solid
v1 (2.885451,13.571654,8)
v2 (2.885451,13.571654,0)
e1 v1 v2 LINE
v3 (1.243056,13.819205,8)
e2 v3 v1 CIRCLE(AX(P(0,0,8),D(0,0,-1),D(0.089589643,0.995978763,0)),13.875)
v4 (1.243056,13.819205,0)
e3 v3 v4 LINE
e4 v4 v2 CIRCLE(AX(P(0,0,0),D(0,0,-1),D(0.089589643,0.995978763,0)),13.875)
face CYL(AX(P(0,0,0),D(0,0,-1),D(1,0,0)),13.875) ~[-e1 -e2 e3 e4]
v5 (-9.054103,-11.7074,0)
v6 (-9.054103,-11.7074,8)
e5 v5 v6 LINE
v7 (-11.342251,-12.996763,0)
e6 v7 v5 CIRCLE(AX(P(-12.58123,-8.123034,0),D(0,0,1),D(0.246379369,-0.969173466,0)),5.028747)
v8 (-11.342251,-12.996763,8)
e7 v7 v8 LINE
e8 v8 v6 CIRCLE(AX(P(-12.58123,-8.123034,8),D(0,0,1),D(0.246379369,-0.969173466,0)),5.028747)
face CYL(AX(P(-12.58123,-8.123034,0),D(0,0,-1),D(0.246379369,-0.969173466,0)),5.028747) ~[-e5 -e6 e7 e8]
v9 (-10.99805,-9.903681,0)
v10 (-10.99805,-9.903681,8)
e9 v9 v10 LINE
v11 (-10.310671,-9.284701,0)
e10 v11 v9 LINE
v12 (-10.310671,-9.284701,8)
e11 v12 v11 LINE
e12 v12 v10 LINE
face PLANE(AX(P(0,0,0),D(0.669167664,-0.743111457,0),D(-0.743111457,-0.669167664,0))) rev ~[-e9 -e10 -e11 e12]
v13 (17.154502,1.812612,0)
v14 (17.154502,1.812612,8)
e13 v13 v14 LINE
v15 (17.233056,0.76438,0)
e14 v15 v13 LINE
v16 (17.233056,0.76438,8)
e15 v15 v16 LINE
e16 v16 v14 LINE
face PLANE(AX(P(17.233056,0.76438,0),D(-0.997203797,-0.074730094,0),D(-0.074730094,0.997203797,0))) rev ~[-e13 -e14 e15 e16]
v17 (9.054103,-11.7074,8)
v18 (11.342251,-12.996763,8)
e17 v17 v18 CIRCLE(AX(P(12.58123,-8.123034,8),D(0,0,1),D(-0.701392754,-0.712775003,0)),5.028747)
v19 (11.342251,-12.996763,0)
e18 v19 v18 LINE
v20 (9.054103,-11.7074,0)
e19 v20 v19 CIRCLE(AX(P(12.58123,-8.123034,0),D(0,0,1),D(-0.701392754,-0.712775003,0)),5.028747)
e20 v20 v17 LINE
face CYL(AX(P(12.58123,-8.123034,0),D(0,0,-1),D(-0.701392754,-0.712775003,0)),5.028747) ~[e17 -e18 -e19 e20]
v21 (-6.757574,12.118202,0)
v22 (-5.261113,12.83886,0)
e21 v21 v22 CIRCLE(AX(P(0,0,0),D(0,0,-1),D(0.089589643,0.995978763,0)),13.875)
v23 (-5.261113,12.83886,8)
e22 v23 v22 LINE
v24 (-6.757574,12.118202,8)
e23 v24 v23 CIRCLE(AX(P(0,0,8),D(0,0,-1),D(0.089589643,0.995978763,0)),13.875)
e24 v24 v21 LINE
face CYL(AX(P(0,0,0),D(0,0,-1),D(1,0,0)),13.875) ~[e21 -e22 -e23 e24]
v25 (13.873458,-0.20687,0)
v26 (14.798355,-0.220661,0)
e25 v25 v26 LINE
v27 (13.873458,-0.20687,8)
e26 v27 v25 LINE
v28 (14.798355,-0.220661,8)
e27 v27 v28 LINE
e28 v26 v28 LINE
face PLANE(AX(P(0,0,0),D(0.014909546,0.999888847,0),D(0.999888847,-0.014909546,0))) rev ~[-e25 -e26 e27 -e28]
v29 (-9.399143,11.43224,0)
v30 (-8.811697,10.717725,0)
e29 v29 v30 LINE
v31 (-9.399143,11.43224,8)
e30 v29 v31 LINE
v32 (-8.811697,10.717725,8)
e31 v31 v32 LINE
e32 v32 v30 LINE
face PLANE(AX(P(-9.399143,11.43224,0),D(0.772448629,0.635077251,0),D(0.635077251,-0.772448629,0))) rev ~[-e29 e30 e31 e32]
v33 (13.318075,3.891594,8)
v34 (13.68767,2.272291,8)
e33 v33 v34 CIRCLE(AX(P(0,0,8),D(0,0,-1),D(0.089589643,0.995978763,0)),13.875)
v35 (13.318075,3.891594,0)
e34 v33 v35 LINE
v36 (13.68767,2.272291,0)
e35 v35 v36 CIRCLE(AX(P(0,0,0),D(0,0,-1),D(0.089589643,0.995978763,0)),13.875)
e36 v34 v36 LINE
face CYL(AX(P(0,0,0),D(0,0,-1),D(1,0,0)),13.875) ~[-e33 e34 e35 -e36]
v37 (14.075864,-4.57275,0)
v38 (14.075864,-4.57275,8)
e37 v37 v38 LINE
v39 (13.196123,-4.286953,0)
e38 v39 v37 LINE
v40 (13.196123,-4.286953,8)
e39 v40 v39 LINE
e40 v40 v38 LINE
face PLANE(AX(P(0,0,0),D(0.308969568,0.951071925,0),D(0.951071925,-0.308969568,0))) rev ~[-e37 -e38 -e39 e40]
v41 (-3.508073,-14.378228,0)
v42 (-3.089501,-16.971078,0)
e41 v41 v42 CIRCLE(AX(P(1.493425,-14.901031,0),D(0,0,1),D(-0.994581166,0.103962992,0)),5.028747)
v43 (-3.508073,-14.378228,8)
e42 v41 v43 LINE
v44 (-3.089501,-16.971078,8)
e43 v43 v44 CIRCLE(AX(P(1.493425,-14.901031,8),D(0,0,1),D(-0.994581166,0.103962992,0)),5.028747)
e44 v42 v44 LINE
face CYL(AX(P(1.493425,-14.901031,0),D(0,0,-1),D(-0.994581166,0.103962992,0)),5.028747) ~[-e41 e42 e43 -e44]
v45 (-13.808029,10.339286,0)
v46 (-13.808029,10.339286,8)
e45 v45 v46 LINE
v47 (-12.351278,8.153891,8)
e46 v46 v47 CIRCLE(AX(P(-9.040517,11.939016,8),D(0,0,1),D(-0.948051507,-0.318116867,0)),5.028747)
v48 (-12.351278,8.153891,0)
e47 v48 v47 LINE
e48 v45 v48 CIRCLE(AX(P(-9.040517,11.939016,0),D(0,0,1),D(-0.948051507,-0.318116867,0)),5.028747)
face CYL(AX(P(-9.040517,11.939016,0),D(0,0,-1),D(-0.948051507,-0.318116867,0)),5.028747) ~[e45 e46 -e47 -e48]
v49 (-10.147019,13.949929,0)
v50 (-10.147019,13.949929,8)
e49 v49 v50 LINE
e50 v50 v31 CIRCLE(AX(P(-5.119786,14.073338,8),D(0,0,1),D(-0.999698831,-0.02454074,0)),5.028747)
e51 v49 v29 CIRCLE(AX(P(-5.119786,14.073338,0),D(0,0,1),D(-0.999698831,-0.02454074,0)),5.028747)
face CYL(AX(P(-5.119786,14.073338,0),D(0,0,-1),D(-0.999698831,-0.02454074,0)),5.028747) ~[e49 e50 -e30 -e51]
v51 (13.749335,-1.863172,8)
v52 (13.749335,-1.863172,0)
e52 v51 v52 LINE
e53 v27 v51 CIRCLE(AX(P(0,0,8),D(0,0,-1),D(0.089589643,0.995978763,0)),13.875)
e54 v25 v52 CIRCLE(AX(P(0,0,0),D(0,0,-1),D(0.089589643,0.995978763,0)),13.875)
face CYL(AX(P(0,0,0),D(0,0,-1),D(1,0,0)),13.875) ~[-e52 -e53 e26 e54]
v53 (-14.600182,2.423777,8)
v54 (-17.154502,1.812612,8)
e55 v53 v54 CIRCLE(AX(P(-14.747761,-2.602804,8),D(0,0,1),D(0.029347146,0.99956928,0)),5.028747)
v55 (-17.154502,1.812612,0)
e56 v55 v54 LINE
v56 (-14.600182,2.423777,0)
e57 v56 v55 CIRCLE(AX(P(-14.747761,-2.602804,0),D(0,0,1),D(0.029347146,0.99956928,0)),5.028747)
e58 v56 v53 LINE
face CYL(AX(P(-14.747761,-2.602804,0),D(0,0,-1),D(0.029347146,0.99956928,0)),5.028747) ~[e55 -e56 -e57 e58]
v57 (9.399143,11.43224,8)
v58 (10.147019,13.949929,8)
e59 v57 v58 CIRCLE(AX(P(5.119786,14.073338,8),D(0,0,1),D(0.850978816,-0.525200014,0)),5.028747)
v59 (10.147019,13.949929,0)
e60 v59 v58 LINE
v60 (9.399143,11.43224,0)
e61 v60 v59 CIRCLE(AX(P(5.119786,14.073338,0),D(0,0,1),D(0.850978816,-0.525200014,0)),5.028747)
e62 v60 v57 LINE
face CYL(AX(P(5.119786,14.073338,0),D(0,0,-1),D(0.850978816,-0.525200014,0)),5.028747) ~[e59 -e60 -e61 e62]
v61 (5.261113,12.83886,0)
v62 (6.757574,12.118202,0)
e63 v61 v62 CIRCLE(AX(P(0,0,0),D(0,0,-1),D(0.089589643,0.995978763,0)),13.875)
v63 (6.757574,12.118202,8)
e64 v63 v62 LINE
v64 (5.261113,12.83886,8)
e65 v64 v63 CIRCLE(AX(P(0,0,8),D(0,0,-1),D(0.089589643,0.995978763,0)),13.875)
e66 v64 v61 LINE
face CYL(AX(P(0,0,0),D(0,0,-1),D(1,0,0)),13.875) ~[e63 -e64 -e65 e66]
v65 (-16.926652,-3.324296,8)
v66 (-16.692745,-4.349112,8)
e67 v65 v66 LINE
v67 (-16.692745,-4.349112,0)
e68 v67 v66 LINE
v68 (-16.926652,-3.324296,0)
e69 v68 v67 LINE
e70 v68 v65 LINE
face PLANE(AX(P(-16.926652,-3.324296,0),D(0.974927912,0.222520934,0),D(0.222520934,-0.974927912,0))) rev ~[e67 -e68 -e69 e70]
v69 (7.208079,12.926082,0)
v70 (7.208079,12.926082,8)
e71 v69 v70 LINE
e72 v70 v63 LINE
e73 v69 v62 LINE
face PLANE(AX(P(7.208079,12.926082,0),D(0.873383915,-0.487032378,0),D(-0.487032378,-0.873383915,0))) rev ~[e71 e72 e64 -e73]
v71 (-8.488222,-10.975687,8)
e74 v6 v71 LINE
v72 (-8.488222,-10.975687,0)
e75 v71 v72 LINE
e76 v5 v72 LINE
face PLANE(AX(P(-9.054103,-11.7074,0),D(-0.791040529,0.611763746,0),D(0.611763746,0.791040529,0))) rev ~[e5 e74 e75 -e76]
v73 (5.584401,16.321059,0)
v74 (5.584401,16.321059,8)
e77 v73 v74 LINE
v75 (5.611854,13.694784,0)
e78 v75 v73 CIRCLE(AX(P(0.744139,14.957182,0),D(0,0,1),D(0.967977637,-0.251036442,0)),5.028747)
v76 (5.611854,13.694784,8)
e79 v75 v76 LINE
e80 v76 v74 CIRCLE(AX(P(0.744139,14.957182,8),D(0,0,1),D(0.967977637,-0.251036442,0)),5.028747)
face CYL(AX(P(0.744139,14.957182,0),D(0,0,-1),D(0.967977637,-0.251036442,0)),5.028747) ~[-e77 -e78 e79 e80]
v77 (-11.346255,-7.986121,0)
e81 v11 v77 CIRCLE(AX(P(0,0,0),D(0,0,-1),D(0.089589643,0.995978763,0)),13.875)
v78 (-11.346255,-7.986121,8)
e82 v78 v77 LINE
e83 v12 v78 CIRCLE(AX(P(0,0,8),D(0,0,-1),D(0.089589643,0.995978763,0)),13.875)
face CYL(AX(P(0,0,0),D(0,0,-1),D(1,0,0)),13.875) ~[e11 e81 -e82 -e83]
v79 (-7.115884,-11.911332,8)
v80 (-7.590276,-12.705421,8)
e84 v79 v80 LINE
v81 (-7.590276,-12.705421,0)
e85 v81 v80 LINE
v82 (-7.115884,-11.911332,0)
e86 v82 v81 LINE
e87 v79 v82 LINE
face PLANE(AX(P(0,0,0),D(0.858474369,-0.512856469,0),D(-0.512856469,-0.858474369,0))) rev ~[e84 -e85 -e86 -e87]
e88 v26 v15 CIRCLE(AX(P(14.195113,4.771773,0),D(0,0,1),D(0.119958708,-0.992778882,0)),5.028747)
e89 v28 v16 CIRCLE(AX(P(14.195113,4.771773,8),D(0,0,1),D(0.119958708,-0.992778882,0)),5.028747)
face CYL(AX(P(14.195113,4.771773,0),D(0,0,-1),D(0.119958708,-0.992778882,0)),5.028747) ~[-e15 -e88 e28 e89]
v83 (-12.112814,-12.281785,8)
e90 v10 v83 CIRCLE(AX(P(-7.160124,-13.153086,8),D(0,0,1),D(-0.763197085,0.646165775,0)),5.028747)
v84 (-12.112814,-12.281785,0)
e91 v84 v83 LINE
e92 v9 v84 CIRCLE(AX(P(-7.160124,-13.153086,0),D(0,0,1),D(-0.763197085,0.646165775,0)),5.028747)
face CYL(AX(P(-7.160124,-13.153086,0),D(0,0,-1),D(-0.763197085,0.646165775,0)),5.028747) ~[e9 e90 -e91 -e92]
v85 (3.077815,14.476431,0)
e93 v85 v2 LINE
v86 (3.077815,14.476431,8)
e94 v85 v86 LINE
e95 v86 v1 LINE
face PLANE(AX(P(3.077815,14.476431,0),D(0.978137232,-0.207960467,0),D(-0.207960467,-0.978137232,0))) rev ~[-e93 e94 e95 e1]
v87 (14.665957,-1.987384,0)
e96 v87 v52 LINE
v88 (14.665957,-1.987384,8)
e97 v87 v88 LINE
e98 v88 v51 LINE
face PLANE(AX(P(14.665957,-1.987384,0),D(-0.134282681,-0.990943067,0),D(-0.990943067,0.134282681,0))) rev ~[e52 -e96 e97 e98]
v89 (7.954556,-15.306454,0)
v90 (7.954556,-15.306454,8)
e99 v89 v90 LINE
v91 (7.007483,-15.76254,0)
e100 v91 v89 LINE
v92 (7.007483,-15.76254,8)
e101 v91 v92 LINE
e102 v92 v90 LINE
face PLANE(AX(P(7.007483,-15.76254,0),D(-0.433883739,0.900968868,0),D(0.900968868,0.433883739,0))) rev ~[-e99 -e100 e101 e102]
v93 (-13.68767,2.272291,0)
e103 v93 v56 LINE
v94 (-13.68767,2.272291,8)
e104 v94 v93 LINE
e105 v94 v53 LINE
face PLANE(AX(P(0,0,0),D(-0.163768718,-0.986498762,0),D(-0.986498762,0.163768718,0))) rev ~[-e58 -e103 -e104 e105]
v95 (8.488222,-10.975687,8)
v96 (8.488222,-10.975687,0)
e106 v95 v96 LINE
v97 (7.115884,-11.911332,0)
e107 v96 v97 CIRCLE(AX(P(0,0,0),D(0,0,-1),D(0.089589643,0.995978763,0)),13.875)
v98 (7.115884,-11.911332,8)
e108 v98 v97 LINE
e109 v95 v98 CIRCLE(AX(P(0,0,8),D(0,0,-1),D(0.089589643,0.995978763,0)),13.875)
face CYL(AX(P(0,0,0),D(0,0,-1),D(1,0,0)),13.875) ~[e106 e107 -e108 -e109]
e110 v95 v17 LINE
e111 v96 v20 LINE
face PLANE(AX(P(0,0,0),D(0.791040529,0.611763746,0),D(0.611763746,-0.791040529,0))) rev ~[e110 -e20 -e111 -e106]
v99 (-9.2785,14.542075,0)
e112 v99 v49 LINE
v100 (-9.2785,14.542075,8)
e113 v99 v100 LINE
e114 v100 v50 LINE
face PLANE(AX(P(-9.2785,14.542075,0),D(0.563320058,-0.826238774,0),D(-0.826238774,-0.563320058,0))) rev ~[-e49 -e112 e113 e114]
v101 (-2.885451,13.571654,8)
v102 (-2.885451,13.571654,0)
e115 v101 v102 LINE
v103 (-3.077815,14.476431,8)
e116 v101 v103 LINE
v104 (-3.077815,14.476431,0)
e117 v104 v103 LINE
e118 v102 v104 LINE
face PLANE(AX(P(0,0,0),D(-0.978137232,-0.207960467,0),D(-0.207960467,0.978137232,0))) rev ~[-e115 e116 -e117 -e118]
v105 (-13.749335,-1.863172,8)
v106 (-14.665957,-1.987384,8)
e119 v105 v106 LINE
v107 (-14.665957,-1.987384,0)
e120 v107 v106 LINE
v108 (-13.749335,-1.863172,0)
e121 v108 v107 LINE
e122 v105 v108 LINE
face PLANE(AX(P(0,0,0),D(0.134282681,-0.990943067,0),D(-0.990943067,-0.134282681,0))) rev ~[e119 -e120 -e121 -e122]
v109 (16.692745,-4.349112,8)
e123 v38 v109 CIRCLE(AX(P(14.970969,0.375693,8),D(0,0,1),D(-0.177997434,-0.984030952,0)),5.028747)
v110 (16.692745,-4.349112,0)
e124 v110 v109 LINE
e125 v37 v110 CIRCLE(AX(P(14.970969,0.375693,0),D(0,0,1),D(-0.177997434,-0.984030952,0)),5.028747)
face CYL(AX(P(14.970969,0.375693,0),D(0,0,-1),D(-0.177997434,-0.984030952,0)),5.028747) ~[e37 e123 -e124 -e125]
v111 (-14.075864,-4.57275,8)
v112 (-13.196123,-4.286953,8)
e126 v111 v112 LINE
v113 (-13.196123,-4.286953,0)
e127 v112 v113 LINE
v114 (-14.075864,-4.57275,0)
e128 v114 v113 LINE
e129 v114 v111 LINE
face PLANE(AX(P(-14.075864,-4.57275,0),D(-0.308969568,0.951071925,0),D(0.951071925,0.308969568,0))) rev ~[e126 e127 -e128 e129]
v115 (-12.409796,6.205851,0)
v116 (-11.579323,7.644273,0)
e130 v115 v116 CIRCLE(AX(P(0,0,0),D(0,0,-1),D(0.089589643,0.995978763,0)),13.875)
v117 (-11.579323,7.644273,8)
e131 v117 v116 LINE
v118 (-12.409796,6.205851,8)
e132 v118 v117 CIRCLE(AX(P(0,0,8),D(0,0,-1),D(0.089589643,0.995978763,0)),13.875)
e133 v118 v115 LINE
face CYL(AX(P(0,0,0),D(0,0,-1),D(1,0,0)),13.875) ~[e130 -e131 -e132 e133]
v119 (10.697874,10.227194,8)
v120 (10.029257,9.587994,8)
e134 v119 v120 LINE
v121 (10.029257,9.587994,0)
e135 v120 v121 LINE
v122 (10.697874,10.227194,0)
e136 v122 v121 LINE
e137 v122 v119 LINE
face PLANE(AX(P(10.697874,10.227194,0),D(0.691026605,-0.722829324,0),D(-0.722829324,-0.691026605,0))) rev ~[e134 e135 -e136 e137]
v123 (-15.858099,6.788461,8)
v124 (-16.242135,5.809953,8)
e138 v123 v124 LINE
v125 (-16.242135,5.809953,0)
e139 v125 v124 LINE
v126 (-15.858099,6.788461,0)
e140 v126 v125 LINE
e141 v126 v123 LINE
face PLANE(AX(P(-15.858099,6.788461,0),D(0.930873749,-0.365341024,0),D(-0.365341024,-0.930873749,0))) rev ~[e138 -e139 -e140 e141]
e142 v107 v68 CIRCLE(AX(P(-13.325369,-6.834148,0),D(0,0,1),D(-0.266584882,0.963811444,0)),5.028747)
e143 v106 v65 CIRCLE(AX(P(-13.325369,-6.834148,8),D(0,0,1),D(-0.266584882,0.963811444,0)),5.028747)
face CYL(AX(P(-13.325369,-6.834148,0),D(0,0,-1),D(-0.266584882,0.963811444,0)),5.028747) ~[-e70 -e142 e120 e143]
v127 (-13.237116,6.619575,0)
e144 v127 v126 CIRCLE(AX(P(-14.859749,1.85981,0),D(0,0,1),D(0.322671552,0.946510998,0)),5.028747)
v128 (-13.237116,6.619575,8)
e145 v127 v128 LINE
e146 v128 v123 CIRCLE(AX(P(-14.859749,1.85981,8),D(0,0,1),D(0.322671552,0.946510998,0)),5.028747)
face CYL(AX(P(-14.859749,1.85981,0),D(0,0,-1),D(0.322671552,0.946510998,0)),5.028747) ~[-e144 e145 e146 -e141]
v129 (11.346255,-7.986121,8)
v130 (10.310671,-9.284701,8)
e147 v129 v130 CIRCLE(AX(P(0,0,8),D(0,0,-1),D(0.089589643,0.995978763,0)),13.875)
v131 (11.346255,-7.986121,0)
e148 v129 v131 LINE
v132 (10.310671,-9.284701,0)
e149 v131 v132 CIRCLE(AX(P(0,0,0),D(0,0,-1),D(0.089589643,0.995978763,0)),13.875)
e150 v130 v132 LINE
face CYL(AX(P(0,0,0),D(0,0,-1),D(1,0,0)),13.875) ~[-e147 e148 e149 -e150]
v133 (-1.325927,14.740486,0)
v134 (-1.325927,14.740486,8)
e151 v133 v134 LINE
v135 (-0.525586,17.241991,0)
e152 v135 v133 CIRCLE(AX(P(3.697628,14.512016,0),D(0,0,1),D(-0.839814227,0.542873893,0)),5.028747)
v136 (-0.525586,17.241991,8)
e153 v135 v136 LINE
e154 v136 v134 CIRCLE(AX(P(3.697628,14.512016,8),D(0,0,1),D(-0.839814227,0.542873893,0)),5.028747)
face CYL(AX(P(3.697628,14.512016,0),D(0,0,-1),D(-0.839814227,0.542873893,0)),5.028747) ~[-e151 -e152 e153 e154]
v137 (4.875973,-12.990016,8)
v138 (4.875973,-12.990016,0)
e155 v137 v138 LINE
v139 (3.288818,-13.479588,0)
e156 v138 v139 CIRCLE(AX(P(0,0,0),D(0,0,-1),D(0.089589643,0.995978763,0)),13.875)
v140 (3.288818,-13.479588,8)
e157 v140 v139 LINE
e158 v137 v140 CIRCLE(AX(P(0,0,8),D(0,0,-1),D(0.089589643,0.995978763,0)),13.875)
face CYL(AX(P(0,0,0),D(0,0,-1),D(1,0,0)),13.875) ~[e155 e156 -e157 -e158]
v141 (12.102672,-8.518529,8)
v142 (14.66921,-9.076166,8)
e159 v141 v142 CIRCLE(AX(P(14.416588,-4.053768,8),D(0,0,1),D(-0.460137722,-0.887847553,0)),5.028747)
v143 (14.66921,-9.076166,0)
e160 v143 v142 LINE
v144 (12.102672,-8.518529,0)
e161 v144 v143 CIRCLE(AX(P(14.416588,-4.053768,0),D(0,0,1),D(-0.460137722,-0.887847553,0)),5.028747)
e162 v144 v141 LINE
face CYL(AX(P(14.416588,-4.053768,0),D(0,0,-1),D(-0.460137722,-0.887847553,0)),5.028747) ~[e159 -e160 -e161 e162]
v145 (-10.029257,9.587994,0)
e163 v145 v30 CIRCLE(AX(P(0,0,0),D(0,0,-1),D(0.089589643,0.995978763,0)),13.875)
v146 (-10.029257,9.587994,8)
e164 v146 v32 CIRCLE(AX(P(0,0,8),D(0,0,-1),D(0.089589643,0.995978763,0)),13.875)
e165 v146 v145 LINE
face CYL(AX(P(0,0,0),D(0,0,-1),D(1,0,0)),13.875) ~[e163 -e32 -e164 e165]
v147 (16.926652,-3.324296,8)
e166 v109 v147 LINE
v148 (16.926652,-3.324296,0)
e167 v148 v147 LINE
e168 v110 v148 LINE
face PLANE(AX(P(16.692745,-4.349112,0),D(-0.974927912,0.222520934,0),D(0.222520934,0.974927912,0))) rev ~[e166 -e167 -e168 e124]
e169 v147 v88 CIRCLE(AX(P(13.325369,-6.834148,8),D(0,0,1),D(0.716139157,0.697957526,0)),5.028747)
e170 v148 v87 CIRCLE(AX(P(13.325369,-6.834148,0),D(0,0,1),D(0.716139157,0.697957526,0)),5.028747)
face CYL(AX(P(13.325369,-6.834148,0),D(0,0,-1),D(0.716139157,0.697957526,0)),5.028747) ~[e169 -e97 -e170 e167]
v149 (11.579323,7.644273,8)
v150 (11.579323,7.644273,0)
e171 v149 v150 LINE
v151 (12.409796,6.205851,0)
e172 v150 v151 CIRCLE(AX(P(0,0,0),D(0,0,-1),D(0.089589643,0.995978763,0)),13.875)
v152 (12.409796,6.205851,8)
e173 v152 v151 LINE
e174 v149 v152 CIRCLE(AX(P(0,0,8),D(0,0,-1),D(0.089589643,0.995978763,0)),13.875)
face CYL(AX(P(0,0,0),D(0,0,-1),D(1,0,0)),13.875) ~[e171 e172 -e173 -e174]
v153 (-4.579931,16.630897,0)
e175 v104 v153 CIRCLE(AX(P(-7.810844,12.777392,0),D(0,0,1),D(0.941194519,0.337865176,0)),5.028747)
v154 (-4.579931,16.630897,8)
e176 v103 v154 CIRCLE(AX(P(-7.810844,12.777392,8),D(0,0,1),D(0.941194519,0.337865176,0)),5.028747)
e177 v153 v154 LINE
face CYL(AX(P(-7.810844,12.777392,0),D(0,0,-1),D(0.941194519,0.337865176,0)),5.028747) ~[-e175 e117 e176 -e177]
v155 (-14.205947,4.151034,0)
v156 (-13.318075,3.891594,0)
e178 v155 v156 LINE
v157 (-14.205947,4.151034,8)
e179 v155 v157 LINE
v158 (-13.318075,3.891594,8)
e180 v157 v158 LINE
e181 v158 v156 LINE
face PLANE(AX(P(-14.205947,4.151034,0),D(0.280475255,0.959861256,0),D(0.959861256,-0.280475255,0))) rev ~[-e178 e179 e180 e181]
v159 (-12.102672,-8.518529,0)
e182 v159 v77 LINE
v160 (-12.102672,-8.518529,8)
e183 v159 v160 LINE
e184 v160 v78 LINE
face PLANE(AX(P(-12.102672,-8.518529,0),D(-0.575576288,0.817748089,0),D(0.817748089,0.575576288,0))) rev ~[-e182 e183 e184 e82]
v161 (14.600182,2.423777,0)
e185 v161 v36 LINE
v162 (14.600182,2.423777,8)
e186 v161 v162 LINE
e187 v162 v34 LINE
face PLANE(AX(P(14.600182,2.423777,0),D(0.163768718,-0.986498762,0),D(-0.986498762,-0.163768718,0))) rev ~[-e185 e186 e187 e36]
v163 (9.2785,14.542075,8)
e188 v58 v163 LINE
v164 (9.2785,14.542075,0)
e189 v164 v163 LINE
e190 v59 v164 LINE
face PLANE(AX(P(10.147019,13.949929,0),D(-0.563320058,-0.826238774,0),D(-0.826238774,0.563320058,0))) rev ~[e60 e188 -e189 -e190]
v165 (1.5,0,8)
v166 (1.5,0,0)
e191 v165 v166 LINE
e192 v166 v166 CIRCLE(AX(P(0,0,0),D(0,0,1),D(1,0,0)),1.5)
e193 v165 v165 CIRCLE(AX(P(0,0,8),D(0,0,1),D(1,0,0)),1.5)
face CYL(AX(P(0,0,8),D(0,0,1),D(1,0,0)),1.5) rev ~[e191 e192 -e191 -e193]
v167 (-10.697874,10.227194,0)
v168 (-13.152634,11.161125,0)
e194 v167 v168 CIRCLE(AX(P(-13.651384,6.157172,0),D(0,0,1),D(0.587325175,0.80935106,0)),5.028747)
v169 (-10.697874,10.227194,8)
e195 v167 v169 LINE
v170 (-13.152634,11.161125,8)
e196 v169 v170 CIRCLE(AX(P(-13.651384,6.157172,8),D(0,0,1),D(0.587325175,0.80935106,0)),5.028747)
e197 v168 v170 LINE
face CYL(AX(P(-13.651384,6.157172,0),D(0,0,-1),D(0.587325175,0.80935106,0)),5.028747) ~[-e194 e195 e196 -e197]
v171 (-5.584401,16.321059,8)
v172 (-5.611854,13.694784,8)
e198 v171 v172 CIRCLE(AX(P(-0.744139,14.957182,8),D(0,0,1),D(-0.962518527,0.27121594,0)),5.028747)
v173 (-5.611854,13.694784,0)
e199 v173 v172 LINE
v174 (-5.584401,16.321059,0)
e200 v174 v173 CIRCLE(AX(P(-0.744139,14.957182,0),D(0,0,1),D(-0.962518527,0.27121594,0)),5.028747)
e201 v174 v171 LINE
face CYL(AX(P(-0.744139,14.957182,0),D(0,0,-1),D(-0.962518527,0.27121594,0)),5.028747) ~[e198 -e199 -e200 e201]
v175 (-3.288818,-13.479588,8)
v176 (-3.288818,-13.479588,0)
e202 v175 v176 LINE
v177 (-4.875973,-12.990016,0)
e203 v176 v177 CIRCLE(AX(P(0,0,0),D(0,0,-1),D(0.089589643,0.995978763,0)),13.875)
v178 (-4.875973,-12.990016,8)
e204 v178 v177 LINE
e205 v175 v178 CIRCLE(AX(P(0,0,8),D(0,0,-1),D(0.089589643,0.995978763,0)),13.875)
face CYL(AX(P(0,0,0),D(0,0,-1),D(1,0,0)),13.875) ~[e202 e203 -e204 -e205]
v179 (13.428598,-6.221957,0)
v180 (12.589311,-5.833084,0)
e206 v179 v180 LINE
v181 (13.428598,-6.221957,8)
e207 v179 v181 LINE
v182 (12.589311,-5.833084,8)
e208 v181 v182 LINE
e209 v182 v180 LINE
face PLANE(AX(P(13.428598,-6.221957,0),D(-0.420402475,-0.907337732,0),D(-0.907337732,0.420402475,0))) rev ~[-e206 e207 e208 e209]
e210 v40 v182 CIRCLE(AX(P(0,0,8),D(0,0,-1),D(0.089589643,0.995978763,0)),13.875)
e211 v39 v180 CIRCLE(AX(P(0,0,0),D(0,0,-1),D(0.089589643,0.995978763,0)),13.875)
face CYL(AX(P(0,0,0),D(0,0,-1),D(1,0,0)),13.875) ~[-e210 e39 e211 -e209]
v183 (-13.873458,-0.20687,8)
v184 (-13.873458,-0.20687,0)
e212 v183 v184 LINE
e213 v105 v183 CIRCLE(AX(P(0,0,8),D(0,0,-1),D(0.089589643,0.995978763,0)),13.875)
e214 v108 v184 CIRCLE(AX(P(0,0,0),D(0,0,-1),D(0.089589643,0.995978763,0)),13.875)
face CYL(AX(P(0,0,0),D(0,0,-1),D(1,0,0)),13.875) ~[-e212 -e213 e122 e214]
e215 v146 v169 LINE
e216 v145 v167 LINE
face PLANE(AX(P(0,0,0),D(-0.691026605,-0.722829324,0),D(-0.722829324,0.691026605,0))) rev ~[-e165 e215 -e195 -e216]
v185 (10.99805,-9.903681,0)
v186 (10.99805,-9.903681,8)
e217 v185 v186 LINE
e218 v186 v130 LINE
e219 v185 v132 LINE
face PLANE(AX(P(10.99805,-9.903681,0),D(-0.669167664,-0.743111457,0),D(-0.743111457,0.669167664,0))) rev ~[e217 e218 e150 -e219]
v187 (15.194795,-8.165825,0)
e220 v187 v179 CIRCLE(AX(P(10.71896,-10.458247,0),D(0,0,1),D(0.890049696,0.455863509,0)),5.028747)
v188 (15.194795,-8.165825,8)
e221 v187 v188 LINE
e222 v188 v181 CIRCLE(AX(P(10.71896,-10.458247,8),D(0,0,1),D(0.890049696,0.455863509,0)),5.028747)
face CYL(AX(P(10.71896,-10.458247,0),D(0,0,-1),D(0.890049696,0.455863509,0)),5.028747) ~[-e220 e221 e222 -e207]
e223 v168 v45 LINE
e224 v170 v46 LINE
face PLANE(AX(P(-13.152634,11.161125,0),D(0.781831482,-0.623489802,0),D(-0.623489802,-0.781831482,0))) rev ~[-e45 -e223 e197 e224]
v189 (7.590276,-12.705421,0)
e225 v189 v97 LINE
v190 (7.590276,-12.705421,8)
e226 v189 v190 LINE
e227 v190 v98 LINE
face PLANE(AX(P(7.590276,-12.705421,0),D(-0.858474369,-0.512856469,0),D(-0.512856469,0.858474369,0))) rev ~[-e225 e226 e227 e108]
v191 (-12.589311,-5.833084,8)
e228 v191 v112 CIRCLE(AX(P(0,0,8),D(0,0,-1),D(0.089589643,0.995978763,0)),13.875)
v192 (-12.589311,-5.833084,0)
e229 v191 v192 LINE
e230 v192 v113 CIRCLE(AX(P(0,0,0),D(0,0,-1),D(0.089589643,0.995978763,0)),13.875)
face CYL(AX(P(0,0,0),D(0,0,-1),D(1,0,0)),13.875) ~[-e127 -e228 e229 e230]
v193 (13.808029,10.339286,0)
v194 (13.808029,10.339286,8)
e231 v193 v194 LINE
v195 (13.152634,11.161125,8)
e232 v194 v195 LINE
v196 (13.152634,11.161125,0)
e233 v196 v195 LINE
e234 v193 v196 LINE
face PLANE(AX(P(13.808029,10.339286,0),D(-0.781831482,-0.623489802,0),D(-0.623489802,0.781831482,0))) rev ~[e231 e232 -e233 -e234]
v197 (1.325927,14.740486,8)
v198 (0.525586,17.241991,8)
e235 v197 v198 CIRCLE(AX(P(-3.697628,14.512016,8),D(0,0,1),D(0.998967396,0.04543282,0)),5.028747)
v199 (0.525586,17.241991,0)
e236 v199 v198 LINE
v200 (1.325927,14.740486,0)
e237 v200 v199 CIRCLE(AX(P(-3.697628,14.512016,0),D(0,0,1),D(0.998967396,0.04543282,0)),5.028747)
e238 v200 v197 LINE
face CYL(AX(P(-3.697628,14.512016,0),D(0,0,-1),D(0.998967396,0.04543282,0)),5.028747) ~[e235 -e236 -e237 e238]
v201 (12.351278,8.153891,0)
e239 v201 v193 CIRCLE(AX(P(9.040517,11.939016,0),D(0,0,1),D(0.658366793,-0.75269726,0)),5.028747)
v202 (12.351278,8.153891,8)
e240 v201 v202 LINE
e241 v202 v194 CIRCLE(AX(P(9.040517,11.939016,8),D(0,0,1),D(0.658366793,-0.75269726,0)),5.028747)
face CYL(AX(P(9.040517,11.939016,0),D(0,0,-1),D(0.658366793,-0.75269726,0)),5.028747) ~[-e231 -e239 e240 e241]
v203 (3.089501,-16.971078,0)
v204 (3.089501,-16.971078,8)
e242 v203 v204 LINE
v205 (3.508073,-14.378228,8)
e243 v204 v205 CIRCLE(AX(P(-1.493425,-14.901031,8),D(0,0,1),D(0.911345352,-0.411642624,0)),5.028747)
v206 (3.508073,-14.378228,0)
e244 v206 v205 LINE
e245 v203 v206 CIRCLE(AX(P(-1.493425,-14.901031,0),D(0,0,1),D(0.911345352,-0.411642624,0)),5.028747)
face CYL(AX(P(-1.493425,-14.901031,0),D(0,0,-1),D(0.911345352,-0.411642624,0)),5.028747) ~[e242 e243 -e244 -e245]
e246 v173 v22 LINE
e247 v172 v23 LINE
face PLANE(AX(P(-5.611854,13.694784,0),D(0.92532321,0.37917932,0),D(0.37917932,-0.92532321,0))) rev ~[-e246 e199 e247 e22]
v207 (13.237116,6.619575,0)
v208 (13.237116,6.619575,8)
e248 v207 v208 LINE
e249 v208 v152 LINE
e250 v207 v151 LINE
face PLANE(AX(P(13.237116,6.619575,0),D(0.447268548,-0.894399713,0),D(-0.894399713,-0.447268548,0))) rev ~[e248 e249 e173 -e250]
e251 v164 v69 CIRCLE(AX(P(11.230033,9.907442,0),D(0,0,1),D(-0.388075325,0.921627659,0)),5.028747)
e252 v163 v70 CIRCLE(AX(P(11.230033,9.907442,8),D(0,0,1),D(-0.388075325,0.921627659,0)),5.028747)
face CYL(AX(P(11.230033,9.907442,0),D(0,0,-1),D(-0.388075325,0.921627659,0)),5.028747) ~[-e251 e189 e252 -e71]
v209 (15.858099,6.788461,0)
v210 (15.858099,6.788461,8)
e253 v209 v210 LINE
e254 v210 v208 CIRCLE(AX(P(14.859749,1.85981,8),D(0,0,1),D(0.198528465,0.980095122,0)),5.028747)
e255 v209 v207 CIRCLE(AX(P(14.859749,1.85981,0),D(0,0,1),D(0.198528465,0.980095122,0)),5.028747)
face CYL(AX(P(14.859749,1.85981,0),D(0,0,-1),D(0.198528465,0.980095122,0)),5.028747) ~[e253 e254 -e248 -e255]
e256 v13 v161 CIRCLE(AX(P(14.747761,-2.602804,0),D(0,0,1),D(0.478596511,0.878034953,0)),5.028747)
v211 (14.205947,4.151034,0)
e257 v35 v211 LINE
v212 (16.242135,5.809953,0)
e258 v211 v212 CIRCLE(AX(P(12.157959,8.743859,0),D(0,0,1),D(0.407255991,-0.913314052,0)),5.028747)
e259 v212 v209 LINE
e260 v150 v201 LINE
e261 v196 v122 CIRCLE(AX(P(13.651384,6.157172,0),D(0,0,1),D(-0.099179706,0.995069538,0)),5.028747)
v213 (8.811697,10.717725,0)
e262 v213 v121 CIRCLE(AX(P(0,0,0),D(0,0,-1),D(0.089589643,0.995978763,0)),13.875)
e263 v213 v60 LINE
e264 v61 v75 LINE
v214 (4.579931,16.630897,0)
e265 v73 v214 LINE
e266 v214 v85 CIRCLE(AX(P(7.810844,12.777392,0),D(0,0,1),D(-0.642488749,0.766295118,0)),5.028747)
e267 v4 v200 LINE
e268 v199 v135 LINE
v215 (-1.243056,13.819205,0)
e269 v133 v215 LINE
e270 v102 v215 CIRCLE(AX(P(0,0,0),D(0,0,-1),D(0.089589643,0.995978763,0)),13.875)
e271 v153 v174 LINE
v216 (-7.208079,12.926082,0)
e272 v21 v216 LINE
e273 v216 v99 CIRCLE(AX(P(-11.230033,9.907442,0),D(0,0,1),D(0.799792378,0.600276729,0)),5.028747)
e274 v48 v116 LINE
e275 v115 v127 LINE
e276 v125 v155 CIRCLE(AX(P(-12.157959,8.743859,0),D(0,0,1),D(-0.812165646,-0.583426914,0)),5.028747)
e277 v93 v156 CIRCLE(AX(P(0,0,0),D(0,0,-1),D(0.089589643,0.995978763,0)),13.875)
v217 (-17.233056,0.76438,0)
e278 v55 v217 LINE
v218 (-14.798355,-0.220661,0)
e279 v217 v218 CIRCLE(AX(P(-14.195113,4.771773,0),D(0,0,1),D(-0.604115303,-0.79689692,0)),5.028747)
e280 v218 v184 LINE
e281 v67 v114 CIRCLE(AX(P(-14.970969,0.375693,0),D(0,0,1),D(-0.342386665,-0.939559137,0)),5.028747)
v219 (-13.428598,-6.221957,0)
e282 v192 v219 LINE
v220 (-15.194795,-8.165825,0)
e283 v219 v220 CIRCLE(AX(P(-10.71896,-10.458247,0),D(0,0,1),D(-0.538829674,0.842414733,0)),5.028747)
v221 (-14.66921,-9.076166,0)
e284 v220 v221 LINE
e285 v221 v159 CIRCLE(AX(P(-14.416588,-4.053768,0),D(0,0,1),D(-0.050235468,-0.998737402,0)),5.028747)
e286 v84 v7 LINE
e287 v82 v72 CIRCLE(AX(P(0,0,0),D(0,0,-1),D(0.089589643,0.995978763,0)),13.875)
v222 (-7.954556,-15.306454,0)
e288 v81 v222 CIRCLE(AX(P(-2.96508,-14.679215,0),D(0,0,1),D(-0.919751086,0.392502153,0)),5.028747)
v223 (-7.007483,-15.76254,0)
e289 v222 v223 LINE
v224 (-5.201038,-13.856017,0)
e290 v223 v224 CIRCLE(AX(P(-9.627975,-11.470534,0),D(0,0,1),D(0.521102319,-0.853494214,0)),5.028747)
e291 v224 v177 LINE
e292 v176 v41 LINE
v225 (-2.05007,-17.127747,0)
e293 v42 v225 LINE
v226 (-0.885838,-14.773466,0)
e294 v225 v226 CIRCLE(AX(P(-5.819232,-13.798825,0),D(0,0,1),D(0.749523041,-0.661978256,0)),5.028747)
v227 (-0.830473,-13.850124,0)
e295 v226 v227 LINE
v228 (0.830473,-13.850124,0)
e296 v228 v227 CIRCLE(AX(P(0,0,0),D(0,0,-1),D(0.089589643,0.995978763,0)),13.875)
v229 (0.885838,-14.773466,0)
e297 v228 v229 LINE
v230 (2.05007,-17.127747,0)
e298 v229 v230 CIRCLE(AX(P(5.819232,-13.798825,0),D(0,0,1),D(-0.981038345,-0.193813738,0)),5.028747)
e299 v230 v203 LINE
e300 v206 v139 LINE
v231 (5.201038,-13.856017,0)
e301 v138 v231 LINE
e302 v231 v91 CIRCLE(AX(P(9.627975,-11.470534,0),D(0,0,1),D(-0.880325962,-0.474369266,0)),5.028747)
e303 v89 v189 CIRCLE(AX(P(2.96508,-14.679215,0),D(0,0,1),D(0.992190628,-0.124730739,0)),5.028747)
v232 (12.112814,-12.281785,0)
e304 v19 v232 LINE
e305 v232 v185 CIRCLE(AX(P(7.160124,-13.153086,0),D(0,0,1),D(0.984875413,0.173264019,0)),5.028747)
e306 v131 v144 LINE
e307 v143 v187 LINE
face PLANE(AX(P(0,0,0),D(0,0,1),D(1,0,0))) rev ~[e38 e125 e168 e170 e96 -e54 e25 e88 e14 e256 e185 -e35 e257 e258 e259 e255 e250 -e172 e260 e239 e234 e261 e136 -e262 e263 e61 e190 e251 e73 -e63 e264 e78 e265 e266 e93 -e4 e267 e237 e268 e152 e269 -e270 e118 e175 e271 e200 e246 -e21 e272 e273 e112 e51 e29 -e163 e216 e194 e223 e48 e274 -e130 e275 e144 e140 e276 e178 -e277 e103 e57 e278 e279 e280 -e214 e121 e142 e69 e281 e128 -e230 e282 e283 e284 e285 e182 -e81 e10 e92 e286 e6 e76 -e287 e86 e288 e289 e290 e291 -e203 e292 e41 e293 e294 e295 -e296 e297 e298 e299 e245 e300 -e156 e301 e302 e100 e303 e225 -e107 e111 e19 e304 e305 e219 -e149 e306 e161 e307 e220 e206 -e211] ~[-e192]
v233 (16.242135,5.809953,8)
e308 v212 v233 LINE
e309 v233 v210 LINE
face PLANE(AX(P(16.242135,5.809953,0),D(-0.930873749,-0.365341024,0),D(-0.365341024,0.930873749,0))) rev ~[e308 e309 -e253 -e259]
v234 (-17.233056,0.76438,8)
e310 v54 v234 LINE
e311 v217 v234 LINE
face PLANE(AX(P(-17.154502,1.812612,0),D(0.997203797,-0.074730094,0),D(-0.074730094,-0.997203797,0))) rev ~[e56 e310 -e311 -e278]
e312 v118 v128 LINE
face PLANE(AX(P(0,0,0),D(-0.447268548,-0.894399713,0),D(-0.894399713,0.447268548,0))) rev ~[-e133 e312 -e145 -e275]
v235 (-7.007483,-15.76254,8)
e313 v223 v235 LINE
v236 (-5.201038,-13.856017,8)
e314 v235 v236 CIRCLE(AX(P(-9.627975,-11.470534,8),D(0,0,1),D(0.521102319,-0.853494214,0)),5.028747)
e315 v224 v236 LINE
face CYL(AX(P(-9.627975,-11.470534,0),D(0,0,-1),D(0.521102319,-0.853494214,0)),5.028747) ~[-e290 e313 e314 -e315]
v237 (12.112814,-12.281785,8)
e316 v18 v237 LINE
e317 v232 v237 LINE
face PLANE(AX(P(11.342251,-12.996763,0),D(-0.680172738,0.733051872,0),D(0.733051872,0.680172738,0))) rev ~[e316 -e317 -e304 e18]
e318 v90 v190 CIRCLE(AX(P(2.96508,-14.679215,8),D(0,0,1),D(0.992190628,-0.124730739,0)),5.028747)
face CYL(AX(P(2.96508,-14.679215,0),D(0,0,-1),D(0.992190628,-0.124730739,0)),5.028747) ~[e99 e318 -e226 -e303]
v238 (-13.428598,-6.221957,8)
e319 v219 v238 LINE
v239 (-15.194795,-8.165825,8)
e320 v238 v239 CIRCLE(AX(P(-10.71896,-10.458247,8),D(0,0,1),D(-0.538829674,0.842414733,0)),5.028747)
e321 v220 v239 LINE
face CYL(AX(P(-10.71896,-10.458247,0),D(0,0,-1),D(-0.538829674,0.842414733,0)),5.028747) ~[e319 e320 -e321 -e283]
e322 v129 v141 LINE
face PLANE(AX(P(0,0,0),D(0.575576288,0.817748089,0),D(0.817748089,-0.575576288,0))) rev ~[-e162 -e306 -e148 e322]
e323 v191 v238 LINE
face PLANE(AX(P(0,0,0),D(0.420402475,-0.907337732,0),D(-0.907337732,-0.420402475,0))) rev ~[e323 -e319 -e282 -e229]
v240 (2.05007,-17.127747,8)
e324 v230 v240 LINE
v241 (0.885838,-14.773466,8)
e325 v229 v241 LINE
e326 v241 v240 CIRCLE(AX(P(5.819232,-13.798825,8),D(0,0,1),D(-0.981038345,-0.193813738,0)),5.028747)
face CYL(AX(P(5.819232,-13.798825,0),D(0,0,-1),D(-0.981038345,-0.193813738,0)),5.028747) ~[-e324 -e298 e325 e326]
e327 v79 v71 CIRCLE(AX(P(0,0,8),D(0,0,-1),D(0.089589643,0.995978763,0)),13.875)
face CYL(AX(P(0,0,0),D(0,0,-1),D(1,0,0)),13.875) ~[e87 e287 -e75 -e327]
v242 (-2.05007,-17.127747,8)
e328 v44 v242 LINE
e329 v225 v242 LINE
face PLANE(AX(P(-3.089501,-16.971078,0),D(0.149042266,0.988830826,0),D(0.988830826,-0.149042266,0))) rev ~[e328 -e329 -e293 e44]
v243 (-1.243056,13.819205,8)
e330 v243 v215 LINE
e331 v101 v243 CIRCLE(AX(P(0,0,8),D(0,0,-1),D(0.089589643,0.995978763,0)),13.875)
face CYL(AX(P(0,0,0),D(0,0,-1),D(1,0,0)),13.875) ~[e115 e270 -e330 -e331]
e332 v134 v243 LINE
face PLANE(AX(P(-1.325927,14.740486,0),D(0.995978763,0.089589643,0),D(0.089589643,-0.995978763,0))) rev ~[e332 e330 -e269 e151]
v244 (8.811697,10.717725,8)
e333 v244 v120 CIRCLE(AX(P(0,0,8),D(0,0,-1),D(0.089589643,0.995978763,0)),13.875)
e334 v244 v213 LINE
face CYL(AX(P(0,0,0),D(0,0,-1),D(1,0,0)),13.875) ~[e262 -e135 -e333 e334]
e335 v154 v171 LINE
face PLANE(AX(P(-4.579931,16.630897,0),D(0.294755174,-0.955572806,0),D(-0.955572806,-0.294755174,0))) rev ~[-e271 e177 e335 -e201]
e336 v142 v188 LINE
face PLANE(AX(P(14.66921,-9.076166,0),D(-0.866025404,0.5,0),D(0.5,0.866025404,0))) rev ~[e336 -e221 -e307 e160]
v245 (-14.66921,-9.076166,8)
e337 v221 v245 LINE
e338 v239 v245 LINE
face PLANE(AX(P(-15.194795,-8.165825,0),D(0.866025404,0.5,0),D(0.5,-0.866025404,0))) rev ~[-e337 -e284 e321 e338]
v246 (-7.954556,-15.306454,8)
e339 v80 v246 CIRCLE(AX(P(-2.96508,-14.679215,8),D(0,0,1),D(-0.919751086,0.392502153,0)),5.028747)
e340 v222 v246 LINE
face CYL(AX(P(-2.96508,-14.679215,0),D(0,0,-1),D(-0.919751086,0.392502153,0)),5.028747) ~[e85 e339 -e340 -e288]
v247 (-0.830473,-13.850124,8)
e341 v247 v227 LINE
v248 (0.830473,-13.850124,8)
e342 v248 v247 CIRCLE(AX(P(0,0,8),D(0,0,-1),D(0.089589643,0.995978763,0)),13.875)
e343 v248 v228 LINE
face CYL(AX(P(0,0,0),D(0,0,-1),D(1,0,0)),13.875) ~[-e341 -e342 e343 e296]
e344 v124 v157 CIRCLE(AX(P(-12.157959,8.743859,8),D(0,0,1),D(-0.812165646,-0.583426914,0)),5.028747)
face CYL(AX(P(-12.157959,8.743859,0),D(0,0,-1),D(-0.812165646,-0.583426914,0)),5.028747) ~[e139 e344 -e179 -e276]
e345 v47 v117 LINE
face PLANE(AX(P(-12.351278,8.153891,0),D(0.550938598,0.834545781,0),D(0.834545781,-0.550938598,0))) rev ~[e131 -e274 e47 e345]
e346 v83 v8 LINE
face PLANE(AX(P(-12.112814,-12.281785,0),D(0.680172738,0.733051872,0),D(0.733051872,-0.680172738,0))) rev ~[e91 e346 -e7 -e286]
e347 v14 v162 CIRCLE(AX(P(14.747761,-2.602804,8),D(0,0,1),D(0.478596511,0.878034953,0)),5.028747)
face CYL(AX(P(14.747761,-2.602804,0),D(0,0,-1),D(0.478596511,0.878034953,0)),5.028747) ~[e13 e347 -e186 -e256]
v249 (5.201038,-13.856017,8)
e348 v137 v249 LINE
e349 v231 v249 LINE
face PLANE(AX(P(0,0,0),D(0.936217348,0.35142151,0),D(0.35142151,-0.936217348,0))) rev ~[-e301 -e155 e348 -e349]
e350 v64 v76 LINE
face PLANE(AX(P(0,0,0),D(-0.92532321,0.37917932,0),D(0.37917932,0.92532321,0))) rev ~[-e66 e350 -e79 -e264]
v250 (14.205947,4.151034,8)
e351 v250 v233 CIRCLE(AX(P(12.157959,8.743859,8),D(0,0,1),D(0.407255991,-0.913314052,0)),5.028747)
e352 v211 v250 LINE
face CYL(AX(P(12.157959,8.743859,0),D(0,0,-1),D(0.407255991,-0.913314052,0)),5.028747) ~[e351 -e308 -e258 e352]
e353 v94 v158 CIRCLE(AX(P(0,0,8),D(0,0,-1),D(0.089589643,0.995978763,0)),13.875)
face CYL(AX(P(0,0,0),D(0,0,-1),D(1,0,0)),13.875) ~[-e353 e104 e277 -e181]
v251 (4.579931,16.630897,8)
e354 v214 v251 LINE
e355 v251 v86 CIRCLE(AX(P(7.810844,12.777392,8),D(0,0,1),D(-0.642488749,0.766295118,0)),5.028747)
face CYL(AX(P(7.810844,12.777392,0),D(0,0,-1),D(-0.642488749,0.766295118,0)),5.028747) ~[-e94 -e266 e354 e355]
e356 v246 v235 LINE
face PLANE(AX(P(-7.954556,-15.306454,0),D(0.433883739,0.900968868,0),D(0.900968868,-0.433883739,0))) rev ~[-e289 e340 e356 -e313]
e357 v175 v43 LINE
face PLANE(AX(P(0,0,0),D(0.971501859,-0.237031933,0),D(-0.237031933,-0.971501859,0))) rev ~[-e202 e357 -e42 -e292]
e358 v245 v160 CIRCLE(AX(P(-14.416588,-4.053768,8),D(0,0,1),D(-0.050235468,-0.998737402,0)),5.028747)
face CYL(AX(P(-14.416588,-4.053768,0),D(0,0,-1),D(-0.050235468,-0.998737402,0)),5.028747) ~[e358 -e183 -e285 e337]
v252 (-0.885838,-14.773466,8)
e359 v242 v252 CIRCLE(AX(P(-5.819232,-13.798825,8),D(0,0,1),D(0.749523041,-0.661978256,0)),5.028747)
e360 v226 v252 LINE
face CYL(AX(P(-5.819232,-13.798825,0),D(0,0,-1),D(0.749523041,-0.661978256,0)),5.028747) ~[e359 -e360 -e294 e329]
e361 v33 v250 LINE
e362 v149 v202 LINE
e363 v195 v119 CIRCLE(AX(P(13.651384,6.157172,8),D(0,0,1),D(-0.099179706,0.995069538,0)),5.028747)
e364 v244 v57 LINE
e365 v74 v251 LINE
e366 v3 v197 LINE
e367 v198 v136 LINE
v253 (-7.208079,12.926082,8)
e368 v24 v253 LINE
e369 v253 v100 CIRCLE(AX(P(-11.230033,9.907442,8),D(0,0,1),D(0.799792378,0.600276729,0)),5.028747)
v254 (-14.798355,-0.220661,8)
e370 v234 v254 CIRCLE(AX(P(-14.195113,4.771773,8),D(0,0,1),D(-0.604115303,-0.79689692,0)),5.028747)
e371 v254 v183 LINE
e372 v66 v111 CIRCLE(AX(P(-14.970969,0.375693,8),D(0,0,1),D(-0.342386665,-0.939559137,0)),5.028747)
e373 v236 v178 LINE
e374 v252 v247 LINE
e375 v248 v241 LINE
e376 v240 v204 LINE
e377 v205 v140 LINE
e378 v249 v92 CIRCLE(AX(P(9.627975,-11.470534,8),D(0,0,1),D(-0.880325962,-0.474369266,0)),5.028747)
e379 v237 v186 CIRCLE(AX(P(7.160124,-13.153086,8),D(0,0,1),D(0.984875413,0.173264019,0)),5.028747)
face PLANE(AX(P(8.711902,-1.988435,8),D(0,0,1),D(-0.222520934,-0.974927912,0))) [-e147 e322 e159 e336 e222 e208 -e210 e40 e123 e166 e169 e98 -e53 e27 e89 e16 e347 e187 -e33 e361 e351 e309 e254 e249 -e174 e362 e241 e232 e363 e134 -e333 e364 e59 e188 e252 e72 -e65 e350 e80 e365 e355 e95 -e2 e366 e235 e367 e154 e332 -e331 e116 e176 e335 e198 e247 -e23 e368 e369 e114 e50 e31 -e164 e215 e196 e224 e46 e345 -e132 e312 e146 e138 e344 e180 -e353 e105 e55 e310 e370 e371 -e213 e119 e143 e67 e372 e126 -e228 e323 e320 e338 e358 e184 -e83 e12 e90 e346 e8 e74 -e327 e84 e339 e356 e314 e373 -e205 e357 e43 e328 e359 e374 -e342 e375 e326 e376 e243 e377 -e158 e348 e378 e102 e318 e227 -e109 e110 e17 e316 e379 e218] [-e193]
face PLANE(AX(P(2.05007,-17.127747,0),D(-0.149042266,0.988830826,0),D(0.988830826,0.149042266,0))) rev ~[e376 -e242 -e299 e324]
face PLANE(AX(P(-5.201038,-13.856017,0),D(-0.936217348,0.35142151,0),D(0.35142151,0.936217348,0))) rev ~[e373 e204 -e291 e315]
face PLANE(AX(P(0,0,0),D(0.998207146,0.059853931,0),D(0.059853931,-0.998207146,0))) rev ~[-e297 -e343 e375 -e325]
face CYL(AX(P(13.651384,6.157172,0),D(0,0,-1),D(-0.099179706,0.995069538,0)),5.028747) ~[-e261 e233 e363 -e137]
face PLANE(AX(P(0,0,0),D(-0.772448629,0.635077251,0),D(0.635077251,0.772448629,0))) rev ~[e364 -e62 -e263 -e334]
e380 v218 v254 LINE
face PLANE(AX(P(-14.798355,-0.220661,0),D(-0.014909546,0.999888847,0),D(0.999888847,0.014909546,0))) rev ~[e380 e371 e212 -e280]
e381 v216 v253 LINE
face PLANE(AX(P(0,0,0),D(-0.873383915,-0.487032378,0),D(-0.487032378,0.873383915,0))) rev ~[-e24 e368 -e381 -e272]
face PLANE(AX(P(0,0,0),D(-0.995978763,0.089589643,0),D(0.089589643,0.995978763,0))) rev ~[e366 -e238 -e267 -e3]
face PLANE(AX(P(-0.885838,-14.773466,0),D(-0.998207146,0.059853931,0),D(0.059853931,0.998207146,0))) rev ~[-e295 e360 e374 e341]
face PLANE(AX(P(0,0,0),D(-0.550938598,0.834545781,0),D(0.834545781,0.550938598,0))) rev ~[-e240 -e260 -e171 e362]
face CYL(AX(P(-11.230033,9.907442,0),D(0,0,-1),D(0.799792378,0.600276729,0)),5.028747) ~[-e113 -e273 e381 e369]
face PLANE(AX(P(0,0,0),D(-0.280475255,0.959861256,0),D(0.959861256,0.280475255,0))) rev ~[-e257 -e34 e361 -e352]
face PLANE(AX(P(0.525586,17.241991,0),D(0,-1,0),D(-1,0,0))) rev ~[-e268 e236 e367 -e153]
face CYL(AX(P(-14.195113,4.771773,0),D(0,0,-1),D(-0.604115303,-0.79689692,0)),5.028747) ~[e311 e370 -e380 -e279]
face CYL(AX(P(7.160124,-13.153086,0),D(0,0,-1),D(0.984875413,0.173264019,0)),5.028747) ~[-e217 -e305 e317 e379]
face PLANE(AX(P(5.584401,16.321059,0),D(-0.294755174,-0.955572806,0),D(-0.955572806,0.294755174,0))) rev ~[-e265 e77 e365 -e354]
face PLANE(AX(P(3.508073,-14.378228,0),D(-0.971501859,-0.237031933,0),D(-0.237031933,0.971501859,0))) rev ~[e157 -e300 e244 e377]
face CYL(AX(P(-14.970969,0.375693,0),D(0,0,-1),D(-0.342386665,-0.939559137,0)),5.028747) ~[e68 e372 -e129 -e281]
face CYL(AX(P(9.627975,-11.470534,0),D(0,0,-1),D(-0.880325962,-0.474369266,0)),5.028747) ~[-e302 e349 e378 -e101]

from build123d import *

# Parameters (mm, degrees)
SKETCH2_R           = 13.875
BOSS_EXTRUDE1_DEPTH = 8
BOSS_EXTRUDE2_DEPTH = 8
CIRPATTERN2_COUNT   = 21
SKETCH5_R           = 1.5
MIDDLE_HOLE_DEPTH   = 8


with BuildPart() as part:
    # Sketch2 → Boss-Extrude1 (new body)
    with BuildSketch(Plane.XY):
        Circle(SKETCH2_R)
    extrude(amount=BOSS_EXTRUDE1_DEPTH)

    # Sketch3 → Boss-Extrude2 (add)
    with BuildSketch(Plane.XY):
        with BuildLine():
            Line((0, 0), (1.325926716, 14.740485689))
            ThreePointArc((1.325926716, 14.740485689), (1.091950654, 16.044411319), (0.525585636, 17.241991177))
            Line((0.525585636, 17.241991177), (-0.525585636, 17.241991177))
            ThreePointArc((-0.525585636, 17.241991177), (-1.091950654, 16.044411319), (-1.325926716, 14.740485689))
            Line((-1.325926716, 14.740485689), (0, 0))
        make_face()
    boss_extrude2 = extrude(amount=BOSS_EXTRUDE2_DEPTH)

    # CirPattern2: Boss-Extrude2 ×21 about axis
    cirpattern2_axis = Axis((0, 0, 0), (0, 0, 1))
    for i in range(1, CIRPATTERN2_COUNT):
        add(boss_extrude2.rotate(cirpattern2_axis, i * 360 / CIRPATTERN2_COUNT))

    # Sketch5 → Middle Hole (cut)
    with BuildSketch(Plane.XY.offset(8)):
        Circle(SKETCH5_R)
    extrude(amount=-MIDDLE_HOLE_DEPTH, mode=Mode.SUBTRACT)


solid = part.part
